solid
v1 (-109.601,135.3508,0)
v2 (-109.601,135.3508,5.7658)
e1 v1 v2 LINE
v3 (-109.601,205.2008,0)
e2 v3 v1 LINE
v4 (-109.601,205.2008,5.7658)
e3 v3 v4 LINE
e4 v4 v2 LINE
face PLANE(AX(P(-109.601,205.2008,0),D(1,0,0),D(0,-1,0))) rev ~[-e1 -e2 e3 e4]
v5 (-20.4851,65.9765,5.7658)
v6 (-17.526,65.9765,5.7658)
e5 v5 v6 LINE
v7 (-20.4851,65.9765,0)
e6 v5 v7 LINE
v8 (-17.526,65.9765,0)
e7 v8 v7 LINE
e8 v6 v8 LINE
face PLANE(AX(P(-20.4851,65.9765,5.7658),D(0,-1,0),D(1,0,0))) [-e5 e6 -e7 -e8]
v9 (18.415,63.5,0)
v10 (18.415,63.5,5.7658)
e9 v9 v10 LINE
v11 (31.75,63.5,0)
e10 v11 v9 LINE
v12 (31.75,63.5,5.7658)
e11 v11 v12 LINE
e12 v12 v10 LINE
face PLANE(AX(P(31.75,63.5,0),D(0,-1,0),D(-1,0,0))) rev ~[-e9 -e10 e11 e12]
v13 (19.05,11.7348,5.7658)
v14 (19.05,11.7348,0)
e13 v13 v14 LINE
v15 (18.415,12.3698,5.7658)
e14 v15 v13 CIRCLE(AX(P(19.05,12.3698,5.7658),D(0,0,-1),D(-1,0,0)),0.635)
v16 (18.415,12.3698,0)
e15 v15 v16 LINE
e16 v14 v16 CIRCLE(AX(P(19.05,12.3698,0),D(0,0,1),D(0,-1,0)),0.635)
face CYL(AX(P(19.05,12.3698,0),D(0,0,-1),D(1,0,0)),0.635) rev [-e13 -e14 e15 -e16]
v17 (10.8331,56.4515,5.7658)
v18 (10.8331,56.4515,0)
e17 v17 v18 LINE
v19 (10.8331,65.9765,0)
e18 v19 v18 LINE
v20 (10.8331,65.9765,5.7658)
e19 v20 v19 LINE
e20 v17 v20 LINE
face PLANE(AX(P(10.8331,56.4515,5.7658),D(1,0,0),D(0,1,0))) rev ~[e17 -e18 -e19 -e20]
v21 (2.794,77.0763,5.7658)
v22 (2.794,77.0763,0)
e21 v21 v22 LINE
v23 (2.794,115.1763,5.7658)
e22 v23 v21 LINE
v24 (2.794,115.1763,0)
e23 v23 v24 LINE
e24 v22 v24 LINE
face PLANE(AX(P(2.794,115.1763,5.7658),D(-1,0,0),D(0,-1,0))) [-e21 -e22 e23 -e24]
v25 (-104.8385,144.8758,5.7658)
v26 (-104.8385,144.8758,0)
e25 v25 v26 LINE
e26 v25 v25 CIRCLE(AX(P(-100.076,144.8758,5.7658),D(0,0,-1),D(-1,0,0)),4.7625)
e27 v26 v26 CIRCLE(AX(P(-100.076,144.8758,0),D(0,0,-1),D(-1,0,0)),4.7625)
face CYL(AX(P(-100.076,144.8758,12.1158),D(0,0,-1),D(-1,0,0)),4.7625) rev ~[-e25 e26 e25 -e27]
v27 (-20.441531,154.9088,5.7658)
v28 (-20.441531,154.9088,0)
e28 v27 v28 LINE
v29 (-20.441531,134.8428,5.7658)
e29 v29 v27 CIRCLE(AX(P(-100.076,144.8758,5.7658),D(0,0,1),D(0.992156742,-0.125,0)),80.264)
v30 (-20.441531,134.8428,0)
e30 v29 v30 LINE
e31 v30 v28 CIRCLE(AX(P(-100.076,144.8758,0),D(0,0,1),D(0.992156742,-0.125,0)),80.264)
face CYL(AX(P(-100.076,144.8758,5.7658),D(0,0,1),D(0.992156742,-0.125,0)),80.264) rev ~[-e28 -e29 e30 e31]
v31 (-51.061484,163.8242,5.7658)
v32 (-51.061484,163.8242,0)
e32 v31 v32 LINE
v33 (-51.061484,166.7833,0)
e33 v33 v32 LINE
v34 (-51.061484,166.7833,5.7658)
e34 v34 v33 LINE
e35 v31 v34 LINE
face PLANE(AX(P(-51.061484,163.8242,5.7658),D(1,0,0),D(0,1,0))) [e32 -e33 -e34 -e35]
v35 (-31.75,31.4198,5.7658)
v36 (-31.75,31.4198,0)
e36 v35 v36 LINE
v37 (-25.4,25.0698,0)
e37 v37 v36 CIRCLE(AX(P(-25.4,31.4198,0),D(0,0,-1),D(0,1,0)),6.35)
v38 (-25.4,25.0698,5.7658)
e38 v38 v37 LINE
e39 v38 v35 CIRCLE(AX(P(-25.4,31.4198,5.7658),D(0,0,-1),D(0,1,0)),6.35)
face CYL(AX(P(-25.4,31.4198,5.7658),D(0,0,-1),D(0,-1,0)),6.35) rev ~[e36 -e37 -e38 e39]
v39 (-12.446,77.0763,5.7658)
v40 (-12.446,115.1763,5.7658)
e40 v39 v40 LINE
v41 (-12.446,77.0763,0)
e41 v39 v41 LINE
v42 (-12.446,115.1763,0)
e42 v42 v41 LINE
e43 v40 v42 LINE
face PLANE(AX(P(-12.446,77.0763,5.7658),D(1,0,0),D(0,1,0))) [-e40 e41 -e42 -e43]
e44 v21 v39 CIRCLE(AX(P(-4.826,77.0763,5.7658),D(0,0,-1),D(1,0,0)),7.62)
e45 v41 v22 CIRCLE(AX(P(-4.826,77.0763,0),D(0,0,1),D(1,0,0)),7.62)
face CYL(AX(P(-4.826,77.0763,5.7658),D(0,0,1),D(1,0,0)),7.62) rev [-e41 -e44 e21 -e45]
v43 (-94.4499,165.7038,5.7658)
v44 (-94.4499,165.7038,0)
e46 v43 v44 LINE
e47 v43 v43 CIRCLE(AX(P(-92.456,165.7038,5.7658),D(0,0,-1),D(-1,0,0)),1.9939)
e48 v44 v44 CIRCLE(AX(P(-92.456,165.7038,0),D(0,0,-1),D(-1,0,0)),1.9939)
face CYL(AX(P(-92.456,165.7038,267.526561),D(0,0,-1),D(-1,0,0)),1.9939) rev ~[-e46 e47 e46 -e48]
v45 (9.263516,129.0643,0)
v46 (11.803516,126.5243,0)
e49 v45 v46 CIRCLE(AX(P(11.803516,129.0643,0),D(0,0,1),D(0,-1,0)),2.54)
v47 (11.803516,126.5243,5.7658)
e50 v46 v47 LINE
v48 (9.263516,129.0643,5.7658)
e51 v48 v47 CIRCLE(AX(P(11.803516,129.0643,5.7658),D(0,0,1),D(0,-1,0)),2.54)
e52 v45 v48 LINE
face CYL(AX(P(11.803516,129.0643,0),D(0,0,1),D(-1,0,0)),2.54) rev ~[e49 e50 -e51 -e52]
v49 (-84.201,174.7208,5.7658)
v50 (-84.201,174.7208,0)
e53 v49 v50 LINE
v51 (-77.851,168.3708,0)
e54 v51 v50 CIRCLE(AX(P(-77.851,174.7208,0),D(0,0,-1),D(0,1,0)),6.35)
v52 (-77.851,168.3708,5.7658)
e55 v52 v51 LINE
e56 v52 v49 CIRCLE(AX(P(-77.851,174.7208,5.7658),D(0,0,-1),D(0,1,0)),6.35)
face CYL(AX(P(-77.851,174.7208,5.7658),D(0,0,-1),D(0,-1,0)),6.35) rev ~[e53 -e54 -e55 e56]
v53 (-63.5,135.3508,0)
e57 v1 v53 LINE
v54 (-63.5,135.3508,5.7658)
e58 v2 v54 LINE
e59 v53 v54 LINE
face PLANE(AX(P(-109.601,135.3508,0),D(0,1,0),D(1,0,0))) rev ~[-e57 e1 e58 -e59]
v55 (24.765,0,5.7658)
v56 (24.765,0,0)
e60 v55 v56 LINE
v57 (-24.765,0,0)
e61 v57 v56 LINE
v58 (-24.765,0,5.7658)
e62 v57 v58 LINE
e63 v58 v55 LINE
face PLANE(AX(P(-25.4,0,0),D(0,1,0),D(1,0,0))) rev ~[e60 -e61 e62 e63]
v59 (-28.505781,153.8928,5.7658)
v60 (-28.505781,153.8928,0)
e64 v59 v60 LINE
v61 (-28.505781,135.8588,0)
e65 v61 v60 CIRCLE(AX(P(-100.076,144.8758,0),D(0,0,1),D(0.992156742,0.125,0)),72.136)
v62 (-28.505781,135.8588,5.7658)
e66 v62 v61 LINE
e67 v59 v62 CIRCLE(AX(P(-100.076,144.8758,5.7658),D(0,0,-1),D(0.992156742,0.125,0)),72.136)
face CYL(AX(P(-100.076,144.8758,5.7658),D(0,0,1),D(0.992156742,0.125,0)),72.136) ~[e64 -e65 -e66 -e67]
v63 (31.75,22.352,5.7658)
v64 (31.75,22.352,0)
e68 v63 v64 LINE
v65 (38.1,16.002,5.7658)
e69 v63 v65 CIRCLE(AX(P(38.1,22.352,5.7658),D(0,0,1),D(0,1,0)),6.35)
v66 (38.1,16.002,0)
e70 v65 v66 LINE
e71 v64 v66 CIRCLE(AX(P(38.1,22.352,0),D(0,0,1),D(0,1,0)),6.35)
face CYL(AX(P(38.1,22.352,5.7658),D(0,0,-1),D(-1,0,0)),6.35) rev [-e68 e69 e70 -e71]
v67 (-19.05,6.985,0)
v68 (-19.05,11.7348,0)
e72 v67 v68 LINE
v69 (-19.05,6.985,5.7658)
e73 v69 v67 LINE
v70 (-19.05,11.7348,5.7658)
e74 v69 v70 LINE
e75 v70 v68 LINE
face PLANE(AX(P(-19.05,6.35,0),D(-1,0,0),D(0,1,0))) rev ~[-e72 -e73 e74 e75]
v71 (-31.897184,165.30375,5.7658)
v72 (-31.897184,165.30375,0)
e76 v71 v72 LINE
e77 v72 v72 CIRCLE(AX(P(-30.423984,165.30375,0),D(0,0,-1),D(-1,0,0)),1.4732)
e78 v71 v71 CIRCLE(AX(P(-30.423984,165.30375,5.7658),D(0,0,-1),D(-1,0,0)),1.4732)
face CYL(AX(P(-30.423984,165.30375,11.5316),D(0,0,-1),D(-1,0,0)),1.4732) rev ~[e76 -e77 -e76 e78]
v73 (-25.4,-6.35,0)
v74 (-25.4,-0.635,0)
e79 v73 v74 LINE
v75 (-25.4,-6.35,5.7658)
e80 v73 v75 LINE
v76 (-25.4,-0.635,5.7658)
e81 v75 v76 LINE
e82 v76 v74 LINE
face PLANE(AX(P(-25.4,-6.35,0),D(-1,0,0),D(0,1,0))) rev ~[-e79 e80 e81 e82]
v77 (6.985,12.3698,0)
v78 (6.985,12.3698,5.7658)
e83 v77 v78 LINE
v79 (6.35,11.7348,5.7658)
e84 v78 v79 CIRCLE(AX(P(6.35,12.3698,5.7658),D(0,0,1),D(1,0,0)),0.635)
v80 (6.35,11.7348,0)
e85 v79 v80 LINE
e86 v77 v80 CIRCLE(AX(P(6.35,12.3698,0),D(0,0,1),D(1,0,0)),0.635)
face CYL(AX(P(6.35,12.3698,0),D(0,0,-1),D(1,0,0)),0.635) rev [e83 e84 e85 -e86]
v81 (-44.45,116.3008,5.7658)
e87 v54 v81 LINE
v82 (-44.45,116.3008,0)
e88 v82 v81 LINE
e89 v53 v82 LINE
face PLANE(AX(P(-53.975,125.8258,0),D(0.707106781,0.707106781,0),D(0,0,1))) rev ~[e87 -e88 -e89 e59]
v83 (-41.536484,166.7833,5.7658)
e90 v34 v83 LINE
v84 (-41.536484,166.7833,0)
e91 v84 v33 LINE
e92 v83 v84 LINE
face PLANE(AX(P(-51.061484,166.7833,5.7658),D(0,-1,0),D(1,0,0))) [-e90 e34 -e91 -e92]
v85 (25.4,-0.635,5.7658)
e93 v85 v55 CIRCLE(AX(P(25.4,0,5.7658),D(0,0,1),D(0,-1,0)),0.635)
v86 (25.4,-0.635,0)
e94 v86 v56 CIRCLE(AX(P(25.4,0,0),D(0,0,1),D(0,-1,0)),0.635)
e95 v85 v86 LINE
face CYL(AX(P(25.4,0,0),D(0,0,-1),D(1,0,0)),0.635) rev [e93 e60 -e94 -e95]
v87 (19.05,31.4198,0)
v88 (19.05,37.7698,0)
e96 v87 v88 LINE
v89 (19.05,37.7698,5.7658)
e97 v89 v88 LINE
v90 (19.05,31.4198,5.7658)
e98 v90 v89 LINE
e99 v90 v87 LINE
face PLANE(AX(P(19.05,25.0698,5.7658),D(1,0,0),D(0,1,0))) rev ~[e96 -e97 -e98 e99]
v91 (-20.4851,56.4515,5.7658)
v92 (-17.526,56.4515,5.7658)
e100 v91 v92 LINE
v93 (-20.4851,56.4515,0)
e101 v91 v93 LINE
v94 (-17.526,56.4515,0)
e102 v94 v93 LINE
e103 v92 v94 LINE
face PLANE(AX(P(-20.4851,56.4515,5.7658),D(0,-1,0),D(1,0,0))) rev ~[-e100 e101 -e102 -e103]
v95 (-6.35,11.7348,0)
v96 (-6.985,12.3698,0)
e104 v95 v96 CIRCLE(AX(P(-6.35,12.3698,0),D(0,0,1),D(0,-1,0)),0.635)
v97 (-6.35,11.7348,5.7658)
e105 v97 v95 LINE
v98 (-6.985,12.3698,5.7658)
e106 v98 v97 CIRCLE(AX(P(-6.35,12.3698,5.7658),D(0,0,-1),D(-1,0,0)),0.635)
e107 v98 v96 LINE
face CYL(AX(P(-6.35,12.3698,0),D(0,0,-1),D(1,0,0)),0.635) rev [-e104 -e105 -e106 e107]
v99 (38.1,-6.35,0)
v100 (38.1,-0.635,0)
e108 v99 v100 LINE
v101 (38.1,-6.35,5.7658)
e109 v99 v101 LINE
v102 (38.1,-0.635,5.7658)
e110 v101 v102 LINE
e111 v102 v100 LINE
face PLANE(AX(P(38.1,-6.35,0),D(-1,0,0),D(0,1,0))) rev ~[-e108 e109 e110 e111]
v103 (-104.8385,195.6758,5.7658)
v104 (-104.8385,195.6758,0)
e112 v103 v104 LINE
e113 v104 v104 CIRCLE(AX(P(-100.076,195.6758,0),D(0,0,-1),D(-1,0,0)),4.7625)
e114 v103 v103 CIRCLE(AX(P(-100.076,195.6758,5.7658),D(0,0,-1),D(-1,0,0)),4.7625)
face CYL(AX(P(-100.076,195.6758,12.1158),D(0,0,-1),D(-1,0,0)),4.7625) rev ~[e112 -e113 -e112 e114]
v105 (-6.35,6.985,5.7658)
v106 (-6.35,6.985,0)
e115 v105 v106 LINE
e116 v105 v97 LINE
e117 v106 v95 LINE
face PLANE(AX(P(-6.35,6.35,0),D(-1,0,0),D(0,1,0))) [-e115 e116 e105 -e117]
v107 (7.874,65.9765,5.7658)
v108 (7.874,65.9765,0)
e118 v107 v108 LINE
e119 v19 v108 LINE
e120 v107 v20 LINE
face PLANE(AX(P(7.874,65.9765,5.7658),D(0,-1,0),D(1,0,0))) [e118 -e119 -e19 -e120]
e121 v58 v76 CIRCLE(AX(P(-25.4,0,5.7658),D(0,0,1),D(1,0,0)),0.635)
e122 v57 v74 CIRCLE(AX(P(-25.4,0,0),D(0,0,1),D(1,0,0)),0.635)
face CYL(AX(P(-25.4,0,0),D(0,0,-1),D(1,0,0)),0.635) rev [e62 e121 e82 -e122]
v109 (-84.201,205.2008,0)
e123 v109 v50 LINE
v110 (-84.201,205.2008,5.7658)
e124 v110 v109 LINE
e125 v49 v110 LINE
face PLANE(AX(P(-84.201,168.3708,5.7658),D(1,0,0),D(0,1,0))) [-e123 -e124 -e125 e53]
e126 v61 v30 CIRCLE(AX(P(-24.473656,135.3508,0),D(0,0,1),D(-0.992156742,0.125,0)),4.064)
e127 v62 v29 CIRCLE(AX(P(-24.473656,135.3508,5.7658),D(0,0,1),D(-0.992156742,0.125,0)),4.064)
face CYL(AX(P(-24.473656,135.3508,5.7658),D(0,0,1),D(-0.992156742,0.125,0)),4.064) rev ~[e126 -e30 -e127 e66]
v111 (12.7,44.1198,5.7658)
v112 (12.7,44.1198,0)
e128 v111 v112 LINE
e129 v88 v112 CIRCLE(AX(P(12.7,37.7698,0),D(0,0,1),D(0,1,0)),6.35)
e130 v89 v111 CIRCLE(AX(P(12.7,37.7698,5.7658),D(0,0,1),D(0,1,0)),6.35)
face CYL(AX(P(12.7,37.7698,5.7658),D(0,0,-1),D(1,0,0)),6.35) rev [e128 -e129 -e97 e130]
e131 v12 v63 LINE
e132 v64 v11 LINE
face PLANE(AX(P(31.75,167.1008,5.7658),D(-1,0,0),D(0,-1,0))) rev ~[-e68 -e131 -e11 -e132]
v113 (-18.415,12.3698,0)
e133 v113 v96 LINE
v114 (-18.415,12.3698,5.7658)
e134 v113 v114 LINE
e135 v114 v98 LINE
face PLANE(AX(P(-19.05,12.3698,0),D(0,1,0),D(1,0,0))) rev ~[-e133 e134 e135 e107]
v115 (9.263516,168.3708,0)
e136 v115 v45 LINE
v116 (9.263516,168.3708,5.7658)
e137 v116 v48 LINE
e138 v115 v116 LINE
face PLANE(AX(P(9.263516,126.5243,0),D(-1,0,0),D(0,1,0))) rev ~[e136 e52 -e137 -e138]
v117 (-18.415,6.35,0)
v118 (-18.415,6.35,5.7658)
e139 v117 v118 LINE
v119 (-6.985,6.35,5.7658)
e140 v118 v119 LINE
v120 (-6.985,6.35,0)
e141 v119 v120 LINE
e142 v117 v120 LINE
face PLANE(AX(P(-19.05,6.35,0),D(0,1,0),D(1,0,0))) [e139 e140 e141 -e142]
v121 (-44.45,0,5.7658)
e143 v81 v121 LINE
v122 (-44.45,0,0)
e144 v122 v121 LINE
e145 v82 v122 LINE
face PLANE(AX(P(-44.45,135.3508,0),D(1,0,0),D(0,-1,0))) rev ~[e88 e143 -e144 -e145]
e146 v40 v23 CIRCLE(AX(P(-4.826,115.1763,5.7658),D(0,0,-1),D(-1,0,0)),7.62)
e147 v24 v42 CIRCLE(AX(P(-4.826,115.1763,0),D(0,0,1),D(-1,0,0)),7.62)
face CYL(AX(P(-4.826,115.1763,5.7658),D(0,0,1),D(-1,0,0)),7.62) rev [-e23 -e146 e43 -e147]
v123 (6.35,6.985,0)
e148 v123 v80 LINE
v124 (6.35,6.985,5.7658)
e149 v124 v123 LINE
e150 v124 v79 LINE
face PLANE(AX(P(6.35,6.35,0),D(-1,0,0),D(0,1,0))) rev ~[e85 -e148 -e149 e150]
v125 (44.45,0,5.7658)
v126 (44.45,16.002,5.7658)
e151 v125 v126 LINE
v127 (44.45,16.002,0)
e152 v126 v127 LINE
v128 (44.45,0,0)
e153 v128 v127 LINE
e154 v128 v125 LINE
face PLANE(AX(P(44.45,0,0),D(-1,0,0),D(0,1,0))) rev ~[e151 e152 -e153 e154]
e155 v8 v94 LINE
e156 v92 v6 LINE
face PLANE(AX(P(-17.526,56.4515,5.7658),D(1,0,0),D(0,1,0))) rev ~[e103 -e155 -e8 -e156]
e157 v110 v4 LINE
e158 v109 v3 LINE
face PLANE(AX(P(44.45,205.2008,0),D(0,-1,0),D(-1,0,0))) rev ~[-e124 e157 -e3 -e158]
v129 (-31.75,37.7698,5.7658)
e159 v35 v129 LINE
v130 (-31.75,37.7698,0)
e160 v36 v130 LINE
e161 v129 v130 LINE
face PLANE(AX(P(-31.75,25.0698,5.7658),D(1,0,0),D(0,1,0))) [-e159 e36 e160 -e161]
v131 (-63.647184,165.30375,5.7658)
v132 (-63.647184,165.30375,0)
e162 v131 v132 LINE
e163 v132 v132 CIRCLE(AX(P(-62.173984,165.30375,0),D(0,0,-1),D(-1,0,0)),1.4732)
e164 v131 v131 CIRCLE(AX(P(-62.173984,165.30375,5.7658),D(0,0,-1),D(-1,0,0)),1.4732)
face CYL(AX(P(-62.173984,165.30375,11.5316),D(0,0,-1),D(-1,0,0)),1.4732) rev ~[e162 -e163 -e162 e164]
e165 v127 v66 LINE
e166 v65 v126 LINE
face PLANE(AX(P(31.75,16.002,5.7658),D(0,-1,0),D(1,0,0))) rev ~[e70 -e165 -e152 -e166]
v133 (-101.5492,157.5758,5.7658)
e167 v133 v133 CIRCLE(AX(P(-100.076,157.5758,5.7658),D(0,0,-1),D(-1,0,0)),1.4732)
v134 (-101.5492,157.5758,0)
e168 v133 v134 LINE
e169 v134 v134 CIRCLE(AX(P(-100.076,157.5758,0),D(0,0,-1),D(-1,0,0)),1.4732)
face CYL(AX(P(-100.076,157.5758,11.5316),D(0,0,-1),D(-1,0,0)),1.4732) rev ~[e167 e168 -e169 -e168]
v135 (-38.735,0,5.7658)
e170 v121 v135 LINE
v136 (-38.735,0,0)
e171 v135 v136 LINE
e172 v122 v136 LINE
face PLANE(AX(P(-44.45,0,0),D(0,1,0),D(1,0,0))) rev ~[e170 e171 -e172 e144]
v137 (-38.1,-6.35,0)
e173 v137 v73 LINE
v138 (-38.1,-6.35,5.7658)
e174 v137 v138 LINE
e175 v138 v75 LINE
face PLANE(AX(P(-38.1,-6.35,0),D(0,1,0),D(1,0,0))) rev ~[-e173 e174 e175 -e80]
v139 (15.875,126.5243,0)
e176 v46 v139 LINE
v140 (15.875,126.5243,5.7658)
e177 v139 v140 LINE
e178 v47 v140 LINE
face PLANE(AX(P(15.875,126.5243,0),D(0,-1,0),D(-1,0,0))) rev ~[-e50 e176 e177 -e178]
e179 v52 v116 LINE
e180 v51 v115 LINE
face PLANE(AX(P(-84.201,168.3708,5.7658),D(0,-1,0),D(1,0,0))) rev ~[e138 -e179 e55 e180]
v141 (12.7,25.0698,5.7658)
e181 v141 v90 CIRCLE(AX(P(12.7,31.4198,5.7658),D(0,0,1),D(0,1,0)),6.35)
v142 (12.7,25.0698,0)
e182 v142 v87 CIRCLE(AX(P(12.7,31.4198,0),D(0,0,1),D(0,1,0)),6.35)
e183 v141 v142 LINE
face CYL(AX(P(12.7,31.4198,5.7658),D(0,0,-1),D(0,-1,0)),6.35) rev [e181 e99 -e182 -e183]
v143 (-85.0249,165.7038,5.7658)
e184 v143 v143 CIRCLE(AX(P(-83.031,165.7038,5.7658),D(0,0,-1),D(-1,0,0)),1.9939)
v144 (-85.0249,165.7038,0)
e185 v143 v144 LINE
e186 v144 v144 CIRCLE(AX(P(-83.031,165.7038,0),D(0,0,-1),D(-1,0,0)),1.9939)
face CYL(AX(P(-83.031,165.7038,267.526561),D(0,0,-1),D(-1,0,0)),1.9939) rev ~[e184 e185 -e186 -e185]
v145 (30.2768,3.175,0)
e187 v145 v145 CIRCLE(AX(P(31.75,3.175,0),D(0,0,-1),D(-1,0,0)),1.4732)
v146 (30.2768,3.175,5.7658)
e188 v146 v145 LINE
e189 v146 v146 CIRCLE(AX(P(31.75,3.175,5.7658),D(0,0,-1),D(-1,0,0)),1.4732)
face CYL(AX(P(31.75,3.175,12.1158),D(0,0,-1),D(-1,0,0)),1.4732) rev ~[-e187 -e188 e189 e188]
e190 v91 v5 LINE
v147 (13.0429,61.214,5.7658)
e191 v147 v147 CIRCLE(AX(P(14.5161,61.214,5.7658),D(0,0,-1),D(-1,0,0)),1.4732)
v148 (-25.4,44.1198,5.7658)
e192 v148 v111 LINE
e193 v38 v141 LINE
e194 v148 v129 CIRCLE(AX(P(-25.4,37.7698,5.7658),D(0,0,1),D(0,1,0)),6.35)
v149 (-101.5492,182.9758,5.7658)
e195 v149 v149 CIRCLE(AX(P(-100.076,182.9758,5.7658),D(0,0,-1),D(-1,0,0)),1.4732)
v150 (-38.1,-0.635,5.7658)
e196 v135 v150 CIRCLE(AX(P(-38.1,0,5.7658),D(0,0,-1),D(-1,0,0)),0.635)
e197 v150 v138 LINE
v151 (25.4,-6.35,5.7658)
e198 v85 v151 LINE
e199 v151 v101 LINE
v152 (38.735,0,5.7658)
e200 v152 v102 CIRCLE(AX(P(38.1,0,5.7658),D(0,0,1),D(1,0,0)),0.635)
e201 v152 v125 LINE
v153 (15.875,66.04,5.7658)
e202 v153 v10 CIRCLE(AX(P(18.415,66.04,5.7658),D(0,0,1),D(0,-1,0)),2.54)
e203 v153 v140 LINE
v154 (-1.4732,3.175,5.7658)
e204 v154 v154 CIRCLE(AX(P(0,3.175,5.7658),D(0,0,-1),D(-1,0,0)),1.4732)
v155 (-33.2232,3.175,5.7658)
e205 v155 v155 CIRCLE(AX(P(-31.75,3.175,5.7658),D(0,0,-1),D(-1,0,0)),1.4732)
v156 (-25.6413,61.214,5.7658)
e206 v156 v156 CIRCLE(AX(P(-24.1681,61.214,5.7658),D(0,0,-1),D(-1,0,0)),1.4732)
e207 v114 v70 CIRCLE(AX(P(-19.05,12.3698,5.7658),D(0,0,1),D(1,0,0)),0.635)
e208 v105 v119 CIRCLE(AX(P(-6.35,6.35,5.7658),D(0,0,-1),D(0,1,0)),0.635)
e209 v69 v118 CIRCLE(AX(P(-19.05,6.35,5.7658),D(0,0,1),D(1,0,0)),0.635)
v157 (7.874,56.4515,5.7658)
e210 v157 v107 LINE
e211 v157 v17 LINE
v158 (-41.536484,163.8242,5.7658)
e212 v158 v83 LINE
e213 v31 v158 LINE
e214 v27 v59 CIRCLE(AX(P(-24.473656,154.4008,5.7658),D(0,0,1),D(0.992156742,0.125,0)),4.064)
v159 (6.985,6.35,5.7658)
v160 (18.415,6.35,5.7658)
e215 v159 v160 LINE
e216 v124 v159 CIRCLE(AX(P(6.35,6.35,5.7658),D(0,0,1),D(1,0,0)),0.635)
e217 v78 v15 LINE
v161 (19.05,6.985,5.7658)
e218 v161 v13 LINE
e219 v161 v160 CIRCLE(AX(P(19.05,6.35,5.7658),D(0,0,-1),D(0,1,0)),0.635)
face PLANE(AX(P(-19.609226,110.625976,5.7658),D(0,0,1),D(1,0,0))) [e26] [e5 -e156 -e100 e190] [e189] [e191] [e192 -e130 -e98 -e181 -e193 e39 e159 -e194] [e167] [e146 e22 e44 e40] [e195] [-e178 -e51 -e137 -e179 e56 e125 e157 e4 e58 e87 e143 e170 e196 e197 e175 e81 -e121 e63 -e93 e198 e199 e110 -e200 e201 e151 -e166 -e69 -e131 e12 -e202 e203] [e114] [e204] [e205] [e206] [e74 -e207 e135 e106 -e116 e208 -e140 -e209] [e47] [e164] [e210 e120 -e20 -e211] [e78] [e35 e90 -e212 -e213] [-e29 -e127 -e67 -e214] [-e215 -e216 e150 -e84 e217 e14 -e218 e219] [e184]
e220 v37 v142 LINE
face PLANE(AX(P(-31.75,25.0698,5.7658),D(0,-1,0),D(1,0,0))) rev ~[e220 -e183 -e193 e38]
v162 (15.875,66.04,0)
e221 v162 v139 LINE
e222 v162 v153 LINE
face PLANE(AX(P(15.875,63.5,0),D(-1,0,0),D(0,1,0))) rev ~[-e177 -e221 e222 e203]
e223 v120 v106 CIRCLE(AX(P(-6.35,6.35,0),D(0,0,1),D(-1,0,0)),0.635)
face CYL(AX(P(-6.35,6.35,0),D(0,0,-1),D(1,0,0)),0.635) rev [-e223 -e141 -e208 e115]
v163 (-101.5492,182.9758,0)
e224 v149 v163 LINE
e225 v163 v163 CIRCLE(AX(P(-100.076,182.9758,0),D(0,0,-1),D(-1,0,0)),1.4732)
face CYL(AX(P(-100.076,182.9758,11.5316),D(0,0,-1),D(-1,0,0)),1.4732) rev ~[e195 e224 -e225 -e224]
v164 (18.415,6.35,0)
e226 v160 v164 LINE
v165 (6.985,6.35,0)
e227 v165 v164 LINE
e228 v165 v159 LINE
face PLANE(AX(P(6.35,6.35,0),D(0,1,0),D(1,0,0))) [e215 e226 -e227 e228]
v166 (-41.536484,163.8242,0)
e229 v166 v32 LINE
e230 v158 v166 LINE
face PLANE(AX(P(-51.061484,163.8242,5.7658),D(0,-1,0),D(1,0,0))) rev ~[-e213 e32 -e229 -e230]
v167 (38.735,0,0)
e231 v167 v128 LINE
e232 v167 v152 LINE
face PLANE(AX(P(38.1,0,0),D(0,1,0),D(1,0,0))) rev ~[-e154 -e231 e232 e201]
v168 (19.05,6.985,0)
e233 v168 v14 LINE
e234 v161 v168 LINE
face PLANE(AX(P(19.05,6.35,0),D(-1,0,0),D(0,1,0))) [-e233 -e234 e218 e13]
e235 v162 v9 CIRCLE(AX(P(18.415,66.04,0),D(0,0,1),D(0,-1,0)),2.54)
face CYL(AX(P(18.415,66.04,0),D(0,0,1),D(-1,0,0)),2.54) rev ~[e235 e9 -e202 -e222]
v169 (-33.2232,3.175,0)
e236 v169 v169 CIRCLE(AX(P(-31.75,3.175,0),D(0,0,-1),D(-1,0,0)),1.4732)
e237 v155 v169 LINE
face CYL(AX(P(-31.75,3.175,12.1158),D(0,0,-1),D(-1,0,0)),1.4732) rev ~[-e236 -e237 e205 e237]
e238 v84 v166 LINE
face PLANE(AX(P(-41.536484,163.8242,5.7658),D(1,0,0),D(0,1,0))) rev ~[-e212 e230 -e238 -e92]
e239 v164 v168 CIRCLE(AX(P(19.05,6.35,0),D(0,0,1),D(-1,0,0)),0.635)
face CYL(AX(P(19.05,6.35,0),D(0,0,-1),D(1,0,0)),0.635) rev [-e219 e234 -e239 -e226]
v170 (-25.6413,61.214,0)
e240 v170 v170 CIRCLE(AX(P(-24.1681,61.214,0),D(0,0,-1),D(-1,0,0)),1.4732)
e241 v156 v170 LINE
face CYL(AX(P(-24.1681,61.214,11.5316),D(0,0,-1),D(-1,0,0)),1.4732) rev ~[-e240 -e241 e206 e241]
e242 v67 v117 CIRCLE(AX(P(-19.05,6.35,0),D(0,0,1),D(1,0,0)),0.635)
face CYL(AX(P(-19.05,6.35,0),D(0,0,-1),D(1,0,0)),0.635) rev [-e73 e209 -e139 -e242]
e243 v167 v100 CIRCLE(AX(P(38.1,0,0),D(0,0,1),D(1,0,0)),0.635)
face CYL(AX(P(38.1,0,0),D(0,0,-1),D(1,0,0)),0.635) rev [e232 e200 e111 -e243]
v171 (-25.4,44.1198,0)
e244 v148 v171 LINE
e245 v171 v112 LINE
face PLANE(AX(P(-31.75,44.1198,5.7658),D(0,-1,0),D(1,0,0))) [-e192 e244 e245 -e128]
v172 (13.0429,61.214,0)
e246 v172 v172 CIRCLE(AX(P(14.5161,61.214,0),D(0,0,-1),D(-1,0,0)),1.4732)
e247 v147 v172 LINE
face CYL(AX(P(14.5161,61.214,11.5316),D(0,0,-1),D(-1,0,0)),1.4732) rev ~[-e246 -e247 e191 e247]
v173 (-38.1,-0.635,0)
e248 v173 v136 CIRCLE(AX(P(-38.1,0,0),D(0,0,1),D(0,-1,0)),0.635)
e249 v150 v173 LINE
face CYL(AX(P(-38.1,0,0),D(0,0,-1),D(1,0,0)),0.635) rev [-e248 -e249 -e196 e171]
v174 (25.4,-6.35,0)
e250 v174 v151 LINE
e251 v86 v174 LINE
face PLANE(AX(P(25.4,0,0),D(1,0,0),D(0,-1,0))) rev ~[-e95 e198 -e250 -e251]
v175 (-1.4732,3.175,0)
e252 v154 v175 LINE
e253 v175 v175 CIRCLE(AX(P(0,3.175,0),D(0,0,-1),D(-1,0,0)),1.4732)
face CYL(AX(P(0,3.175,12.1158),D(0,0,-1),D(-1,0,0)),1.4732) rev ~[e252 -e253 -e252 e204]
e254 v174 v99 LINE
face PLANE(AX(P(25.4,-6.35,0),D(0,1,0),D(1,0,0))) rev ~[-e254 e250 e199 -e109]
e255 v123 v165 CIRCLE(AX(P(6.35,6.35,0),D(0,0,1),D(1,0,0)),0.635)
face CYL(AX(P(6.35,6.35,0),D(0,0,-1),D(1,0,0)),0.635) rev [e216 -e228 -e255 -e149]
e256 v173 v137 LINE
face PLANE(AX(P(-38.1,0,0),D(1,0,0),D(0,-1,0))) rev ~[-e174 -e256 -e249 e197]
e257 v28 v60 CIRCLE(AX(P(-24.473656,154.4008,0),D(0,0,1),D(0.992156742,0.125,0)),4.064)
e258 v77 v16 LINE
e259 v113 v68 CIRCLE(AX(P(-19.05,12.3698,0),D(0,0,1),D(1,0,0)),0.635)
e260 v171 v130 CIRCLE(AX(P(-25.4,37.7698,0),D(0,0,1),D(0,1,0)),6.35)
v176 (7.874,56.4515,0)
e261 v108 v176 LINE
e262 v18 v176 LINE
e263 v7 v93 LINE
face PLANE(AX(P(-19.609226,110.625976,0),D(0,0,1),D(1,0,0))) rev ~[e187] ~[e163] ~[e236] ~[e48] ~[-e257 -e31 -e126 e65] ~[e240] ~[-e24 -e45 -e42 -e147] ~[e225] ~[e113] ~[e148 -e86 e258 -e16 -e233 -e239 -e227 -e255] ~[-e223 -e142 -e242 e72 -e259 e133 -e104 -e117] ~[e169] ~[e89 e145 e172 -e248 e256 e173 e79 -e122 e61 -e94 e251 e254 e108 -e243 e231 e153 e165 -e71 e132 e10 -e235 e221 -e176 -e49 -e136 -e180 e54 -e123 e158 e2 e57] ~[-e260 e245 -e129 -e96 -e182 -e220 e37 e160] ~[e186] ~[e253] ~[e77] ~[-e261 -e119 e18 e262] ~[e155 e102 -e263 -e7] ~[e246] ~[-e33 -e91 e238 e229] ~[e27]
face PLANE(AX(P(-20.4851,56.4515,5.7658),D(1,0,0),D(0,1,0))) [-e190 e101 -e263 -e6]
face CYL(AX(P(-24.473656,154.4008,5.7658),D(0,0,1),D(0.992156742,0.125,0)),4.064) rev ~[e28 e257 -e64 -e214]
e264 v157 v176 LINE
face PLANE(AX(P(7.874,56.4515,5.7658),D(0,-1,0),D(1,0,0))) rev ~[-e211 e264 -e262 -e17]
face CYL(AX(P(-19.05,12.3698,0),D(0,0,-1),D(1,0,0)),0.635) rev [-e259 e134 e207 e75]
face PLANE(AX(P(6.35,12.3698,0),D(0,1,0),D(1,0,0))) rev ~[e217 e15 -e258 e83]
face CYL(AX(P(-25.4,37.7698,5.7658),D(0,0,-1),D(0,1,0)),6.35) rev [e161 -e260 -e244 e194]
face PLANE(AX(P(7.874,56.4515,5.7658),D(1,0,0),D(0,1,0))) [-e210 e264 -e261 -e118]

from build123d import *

# Parameters (mm, degrees)
SKETCH1_W                        = 12.7
SKETCH1_H                        = 6.0198
BOSS_EXTRUDE1_DEPTH              = 5.7658
SKETCH13_R                       = 0.635
CUT_EXTRUDE2_DEPTH               = 5.7658
CHAMFER1_SIZE                    = 50.8
F_4_CLEARANCE_HOLE1_D            = 2.9464
F_4_CLEARANCE_HOLE1_DEPTH        = 6.35
F_4_CLEARANCE_HOLE1_TIP          = 0.885187864
F_3_8_0_375_DIAMETER_HOLE1_D     = 9.525
F_3_8_0_375_DIAMETER_HOLE1_DEPTH = 6.35
F_3_8_0_375_DIAMETER_HOLE1_TIP   = 2.861598698
CUT_EXTRUDE3_REACH               = 234.708
FILLET3_R                        = 6.35
CUT_EXTRUDE4_REACH               = 234.708
CUT_EXTRUDE5_REACH               = 234.708
SKETCH26_W                       = 2.9591
SKETCH26_H                       = 9.525
CUT_EXTRUDE6_REACH               = 234.708
SKETCH29_W                       = 65.024
SKETCH29_H                       = 36.83
FILLET5_R                        = 6.35
CUT_EXTRUDE9_REACH               = 234.708
SKETCH32_W                       = 9.525
SKETCH32_H                       = 2.9591
CUT_EXTRUDE10_REACH              = 234.708
CHAMFER2_SIZE                    = 19.05
CUT_EXTRUDE11_START              = -5.7658
CUT_EXTRUDE11_DEPTH              = 5.7658
CUT_EXTRUDE12_REACH              = 234.708
SKETCH36_W                       = 57.277
SKETCH36_H                       = 36.83
FILLET7_R                        = 2.54
FILLET8_R                        = 6.35
CUT_EXTRUDE13_REACH              = 234.708
SKETCH37_W                       = 9.525
SKETCH37_H                       = 2.9591
F_4_CLEARANCE_HOLE2_D            = 2.9464
F_4_CLEARANCE_HOLE2_DEPTH        = 5.7658
SKETCH38_W                       = 50.8
SKETCH38_H                       = 19.05
CUT_EXTRUDE14_DEPTH              = 233.70795425
FILLET9_R                        = 6.35
TAP_DRILL_FOR_4_HELICOIL1_D      = 3.9878


with BuildPart() as part:
    # Sketch1 → Boss-Extrude1 (new body)
    with BuildSketch(Plane.XY):
        Polygon((-25.4, 0), (25.4, 0), (25.4, -6.35), (38.1, -6.35), (38.1, 0), (44.45, 0), (44.45, 205.2008), (-109.601, 205.2008), (-109.601, 135.3508), (-44.45, 135.3508), (-44.45, 0), (-38.1, 0), (-38.1, -6.35), (-25.4, -6.35), align=None)
        with Locations((12.7, 9.3599)):
            Rectangle(SKETCH1_W, SKETCH1_H, mode=Mode.SUBTRACT)
        with Locations((-12.7, 9.3599)):
            Rectangle(SKETCH1_W, SKETCH1_H, mode=Mode.SUBTRACT)
    extrude(amount=BOSS_EXTRUDE1_DEPTH)

    # Sketch13 → Cut-Extrude2 (cut)
    with BuildSketch(Plane.XY):
        with Locations((-19.05, 12.3698)):
            Circle(SKETCH13_R)
    cut_extrude2 = extrude(amount=CUT_EXTRUDE2_DEPTH, mode=Mode.SUBTRACT)

    # Sketch-Pattern1: Cut-Extrude2 at 11 more places
    with Locations((12.7, 0, 0), (12.7, -6.0198, 0), (0, -6.0198, 0), (25.4, 0, 0), (38.1, 0, 0), (38.1, -6.0198, 0), (25.4, -6.0198, 0), (57.15, -12.3698, 0), (44.45, -12.3698, 0), (-6.35, -12.3698, 0), (-19.05, -12.3698, 0)):
        add(cut_extrude2, mode=Mode.SUBTRACT)

    # Chamfer1
    chamfer1_edges = [part.edges().sort_by_distance(p)[0] for p in [
        (44.45, 205.2008, 2.8829),
    ]]
    chamfer(chamfer1_edges, length=CHAMFER1_SIZE)

    # 4 Clearance Hole1
    with Locations(Plane.XY.offset(5.7658)):
        with Locations((-31.75, 3.175), (31.75, 3.175), (0, 3.175)):
            Hole(F_4_CLEARANCE_HOLE1_D / 2, depth=F_4_CLEARANCE_HOLE1_DEPTH)
            with Locations((0, 0, -(F_4_CLEARANCE_HOLE1_DEPTH + F_4_CLEARANCE_HOLE1_TIP / 2))):  # 118° drill point
                Cone(0, F_4_CLEARANCE_HOLE1_D / 2, F_4_CLEARANCE_HOLE1_TIP, mode=Mode.SUBTRACT)

    # 3_8 _0.375_ Diameter Hole1
    with Locations(Plane.XY.offset(5.7658)):
        with Locations((-100.076, 144.8758), (-100.076, 195.6758)):
            Hole(F_3_8_0_375_DIAMETER_HOLE1_D / 2, depth=F_3_8_0_375_DIAMETER_HOLE1_DEPTH)
            with Locations((0, 0, -(F_3_8_0_375_DIAMETER_HOLE1_DEPTH + F_3_8_0_375_DIAMETER_HOLE1_TIP / 2))):  # 118° drill point
                Cone(0, F_3_8_0_375_DIAMETER_HOLE1_D / 2, F_3_8_0_375_DIAMETER_HOLE1_TIP, mode=Mode.SUBTRACT)

    # Sketch24 → Cut-Extrude3 (cut, up to next)
    with BuildSketch(Plane.XY.offset(5.7658), mode=Mode.PRIVATE) as cut_extrude3_sk1:
        Polygon((31.75, 167.1008), (31.75, 16.002), (44.45, 16.002), (44.45, 154.4008), align=None)
    cut_extrude3_tool1 = extrude(cut_extrude3_sk1.sketch, amount=-CUT_EXTRUDE3_REACH, mode=Mode.PRIVATE) & part.part
    add(cut_extrude3_tool1.solids().sort_by_distance((38.007144, 88.422828, 5.7658))[0], mode=Mode.SUBTRACT)

    # Fillet3
    fillet3_edges = [part.edges().sort_by_distance(p)[0] for p in [
        (31.75, 16.002, 2.8829),
    ]]
    fillet(fillet3_edges, radius=FILLET3_R)

    # Sketch25 → Cut-Extrude4 (cut, up to next)
    with BuildSketch(Plane.XY.offset(5.7658), mode=Mode.PRIVATE) as cut_extrude4_sk1:
        with BuildLine():
            ThreePointArc((-20.441531288, 134.8428), (-19.812, 144.8758), (-20.441531288, 154.9088))
            ThreePointArc((-20.441531288, 154.9088), (-24.981656286, 158.432924998), (-28.505781284, 153.8928))
            ThreePointArc((-28.505781284, 153.8928), (-27.94, 144.8758), (-28.505781284, 135.8588))
            ThreePointArc((-28.505781284, 135.8588), (-24.981656286, 131.318675002), (-20.441531288, 134.8428))
        make_face()
    cut_extrude4_tool1 = extrude(cut_extrude4_sk1.sketch, amount=-CUT_EXTRUDE4_REACH, mode=Mode.PRIVATE) & part.part
    # Sketch25 → Cut-Extrude4 (cut, up to next)
    with BuildSketch(Plane.XY.offset(5.7658), mode=Mode.PRIVATE) as cut_extrude4_sk2:
        with BuildLine():
            ThreePointArc((17.359640569, 130.0803), (18.288, 144.8758), (17.359640569, 159.6713))
            ThreePointArc((17.359640569, 159.6713), (12.819515571, 163.195424998), (9.295390572, 158.6553))
            ThreePointArc((9.295390572, 158.6553), (10.16, 144.8758), (9.295390572, 131.0963))
            ThreePointArc((9.295390572, 131.0963), (12.819515571, 126.556175002), (17.359640569, 130.0803))
        make_face()
    cut_extrude4_tool2 = extrude(cut_extrude4_sk2.sketch, amount=-CUT_EXTRUDE4_REACH, mode=Mode.PRIVATE) & part.part
    add(cut_extrude4_tool1.solids().sort_by_distance((-24.175106, 144.8758, 5.7658))[0], mode=Mode.SUBTRACT)
    add(cut_extrude4_tool2.solids().sort_by_distance((13.816141, 144.8758, 5.7658))[0], mode=Mode.SUBTRACT)

    # Sketch26 → Cut-Extrude5 (cut, up to next)
    with BuildSketch(Plane.XY.offset(5.7658), mode=Mode.PRIVATE) as cut_extrude5_sk1:
        with Locations((9.35355, 61.214)):
            Rectangle(SKETCH26_W, SKETCH26_H)
    cut_extrude5_tool1 = extrude(cut_extrude5_sk1.sketch, amount=-CUT_EXTRUDE5_REACH, mode=Mode.PRIVATE) & part.part
    # Sketch26 → Cut-Extrude5 (cut, up to next)
    with BuildSketch(Plane.XY.offset(5.7658), mode=Mode.PRIVATE) as cut_extrude5_sk2:
        with Locations((-19.00555, 61.214)):
            Rectangle(SKETCH26_W, SKETCH26_H)
    cut_extrude5_tool2 = extrude(cut_extrude5_sk2.sketch, amount=-CUT_EXTRUDE5_REACH, mode=Mode.PRIVATE) & part.part
    add(cut_extrude5_tool1.solids().sort_by_distance((9.35355, 61.214, 5.7658))[0], mode=Mode.SUBTRACT)
    add(cut_extrude5_tool2.solids().sort_by_distance((-19.00555, 61.214, 5.7658))[0], mode=Mode.SUBTRACT)

    # Sketch29 → Cut-Extrude6 (cut, up to next)
    with BuildSketch(Plane.XY.offset(5.7658), mode=Mode.PRIVATE) as cut_extrude6_sk1:
        with Locations((-0.762, 186.7858)):
            Rectangle(SKETCH29_W, SKETCH29_H)
    cut_extrude6_tool1 = extrude(cut_extrude6_sk1.sketch, amount=-CUT_EXTRUDE6_REACH, mode=Mode.PRIVATE) & part.part
    add(cut_extrude6_tool1.solids().sort_by_distance((-0.762, 186.7858, 5.7658))[0], mode=Mode.SUBTRACT)

    # Fillet5
    fillet5_edges = [part.edges().sort_by_distance(p)[0] for p in [
        (-33.274, 168.3708, 2.8829),
    ]]
    fillet(fillet5_edges, radius=FILLET5_R)

    # Sketch32 → Cut-Extrude9 (cut, up to next)
    with BuildSketch(Plane.XY.offset(5.7658), mode=Mode.PRIVATE) as cut_extrude9_sk1:
        with Locations((20.6375, 166.0975)):
            Rectangle(SKETCH32_W, SKETCH32_H)
    cut_extrude9_tool1 = extrude(cut_extrude9_sk1.sketch, amount=-CUT_EXTRUDE9_REACH, mode=Mode.PRIVATE) & part.part
    add(cut_extrude9_tool1.solids().sort_by_distance((20.6375, 166.0975, 5.7658))[0], mode=Mode.SUBTRACT)

    # Sketch31 → Cut-Extrude10 (cut, up to next)
    with BuildSketch(Plane.XY.offset(5.7658), mode=Mode.PRIVATE) as cut_extrude10_sk1:
        with BuildLine():
            Line((-12.446, 77.0763), (-12.446, 115.1763))
            ThreePointArc((-12.446, 115.1763), (-4.826, 122.7963), (2.794, 115.1763))
            Line((2.794, 115.1763), (2.794, 77.0763))
            ThreePointArc((2.794, 77.0763), (-4.826, 69.4563), (-12.446, 77.0763))
        make_face()
    cut_extrude10_tool1 = extrude(cut_extrude10_sk1.sketch, amount=-CUT_EXTRUDE10_REACH, mode=Mode.PRIVATE) & part.part
    add(cut_extrude10_tool1.solids().sort_by_distance((-4.826, 96.1263, 5.7658))[0], mode=Mode.SUBTRACT)

    # Chamfer2
    chamfer2_edges = [part.edges().sort_by_distance(p)[0] for p in [
        (-44.45, 135.3508, 2.8829),
    ]]
    chamfer(chamfer2_edges, length=CHAMFER2_SIZE)

    # Sketch35 → Cut-Extrude11 (cut)
    with BuildSketch(Plane.XY.offset(5.7658).offset(CUT_EXTRUDE11_START)):
        Polygon((31.75, 63.5), (15.875, 63.5), (15.875, 126.5243), (9.263515571, 126.5243), (9.263515571, 168.3708), (31.75, 168.3708), align=None)
    extrude(amount=CUT_EXTRUDE11_DEPTH, mode=Mode.SUBTRACT)

    # Sketch36 → Cut-Extrude12 (cut, up to next)
    with BuildSketch(Plane.XY.offset(5.7658), mode=Mode.PRIVATE) as cut_extrude12_sk1:
        with Locations((-55.5625, 186.7858)):
            Rectangle(SKETCH36_W, SKETCH36_H)
    cut_extrude12_tool1 = extrude(cut_extrude12_sk1.sketch, amount=-CUT_EXTRUDE12_REACH, mode=Mode.PRIVATE) & part.part
    add(cut_extrude12_tool1.solids().sort_by_distance((-55.5625, 186.7858, 5.7658))[0], mode=Mode.SUBTRACT)

    # Fillet7
    fillet7_edges = [part.edges().sort_by_distance(p)[0] for p in [
        (15.875, 63.5, 2.8829),
        (9.263515571, 126.5243, 2.8829),
    ]]
    fillet(fillet7_edges, radius=FILLET7_R)

    # Fillet8
    fillet8_edges = [part.edges().sort_by_distance(p)[0] for p in [
        (-84.201, 168.3708, 2.8829),
    ]]
    fillet(fillet8_edges, radius=FILLET8_R)

    # Sketch37 → Cut-Extrude13 (cut, up to next)
    with BuildSketch(Plane.XY.offset(5.7658), mode=Mode.PRIVATE) as cut_extrude13_sk1:
        with Locations((-46.298984429, 165.30375)):
            Rectangle(SKETCH37_W, SKETCH37_H)
    cut_extrude13_tool1 = extrude(cut_extrude13_sk1.sketch, amount=-CUT_EXTRUDE13_REACH, mode=Mode.PRIVATE) & part.part
    add(cut_extrude13_tool1.solids().sort_by_distance((-46.298984, 165.30375, 5.7658))[0], mode=Mode.SUBTRACT)

    # 4 Clearance Hole2
    with Locations(Plane.XY.offset(5.7658)):
        with Locations((-24.1681, 61.214), (14.5161, 61.214), (20.6375, 117.5708), (-100.076, 182.9758), (-100.076, 157.5758), (-62.173984429, 165.30375), (-30.423984429, 165.30375)):
            Hole(F_4_CLEARANCE_HOLE2_D / 2, depth=F_4_CLEARANCE_HOLE2_DEPTH)

    # Sketch38 → Cut-Extrude14 (cut, through all)
    with BuildSketch(Plane.XY.offset(5.7658)):
        with Locations((-6.35, 34.5948)):
            Rectangle(SKETCH38_W, SKETCH38_H)
    extrude(amount=-CUT_EXTRUDE14_DEPTH, mode=Mode.SUBTRACT)

    # Fillet9
    fillet9_edges = [part.edges().sort_by_distance(p)[0] for p in [
        (19.05, 44.1198, 2.8829),
        (19.05, 25.0698, 2.8829),
        (-31.75, 25.0698, 2.8829),
        (-31.75, 44.1198, 2.8829),
    ]]
    fillet(fillet9_edges, radius=FILLET9_R)

    # Tap Drill for _4 Helicoil1 (through all)
    with Locations(Plane.XY.offset(5.7658)):
        with Locations((-92.456, 165.7038), (-83.031, 165.7038)):
            Hole(TAP_DRILL_FOR_4_HELICOIL1_D / 2)


solid = part.part
